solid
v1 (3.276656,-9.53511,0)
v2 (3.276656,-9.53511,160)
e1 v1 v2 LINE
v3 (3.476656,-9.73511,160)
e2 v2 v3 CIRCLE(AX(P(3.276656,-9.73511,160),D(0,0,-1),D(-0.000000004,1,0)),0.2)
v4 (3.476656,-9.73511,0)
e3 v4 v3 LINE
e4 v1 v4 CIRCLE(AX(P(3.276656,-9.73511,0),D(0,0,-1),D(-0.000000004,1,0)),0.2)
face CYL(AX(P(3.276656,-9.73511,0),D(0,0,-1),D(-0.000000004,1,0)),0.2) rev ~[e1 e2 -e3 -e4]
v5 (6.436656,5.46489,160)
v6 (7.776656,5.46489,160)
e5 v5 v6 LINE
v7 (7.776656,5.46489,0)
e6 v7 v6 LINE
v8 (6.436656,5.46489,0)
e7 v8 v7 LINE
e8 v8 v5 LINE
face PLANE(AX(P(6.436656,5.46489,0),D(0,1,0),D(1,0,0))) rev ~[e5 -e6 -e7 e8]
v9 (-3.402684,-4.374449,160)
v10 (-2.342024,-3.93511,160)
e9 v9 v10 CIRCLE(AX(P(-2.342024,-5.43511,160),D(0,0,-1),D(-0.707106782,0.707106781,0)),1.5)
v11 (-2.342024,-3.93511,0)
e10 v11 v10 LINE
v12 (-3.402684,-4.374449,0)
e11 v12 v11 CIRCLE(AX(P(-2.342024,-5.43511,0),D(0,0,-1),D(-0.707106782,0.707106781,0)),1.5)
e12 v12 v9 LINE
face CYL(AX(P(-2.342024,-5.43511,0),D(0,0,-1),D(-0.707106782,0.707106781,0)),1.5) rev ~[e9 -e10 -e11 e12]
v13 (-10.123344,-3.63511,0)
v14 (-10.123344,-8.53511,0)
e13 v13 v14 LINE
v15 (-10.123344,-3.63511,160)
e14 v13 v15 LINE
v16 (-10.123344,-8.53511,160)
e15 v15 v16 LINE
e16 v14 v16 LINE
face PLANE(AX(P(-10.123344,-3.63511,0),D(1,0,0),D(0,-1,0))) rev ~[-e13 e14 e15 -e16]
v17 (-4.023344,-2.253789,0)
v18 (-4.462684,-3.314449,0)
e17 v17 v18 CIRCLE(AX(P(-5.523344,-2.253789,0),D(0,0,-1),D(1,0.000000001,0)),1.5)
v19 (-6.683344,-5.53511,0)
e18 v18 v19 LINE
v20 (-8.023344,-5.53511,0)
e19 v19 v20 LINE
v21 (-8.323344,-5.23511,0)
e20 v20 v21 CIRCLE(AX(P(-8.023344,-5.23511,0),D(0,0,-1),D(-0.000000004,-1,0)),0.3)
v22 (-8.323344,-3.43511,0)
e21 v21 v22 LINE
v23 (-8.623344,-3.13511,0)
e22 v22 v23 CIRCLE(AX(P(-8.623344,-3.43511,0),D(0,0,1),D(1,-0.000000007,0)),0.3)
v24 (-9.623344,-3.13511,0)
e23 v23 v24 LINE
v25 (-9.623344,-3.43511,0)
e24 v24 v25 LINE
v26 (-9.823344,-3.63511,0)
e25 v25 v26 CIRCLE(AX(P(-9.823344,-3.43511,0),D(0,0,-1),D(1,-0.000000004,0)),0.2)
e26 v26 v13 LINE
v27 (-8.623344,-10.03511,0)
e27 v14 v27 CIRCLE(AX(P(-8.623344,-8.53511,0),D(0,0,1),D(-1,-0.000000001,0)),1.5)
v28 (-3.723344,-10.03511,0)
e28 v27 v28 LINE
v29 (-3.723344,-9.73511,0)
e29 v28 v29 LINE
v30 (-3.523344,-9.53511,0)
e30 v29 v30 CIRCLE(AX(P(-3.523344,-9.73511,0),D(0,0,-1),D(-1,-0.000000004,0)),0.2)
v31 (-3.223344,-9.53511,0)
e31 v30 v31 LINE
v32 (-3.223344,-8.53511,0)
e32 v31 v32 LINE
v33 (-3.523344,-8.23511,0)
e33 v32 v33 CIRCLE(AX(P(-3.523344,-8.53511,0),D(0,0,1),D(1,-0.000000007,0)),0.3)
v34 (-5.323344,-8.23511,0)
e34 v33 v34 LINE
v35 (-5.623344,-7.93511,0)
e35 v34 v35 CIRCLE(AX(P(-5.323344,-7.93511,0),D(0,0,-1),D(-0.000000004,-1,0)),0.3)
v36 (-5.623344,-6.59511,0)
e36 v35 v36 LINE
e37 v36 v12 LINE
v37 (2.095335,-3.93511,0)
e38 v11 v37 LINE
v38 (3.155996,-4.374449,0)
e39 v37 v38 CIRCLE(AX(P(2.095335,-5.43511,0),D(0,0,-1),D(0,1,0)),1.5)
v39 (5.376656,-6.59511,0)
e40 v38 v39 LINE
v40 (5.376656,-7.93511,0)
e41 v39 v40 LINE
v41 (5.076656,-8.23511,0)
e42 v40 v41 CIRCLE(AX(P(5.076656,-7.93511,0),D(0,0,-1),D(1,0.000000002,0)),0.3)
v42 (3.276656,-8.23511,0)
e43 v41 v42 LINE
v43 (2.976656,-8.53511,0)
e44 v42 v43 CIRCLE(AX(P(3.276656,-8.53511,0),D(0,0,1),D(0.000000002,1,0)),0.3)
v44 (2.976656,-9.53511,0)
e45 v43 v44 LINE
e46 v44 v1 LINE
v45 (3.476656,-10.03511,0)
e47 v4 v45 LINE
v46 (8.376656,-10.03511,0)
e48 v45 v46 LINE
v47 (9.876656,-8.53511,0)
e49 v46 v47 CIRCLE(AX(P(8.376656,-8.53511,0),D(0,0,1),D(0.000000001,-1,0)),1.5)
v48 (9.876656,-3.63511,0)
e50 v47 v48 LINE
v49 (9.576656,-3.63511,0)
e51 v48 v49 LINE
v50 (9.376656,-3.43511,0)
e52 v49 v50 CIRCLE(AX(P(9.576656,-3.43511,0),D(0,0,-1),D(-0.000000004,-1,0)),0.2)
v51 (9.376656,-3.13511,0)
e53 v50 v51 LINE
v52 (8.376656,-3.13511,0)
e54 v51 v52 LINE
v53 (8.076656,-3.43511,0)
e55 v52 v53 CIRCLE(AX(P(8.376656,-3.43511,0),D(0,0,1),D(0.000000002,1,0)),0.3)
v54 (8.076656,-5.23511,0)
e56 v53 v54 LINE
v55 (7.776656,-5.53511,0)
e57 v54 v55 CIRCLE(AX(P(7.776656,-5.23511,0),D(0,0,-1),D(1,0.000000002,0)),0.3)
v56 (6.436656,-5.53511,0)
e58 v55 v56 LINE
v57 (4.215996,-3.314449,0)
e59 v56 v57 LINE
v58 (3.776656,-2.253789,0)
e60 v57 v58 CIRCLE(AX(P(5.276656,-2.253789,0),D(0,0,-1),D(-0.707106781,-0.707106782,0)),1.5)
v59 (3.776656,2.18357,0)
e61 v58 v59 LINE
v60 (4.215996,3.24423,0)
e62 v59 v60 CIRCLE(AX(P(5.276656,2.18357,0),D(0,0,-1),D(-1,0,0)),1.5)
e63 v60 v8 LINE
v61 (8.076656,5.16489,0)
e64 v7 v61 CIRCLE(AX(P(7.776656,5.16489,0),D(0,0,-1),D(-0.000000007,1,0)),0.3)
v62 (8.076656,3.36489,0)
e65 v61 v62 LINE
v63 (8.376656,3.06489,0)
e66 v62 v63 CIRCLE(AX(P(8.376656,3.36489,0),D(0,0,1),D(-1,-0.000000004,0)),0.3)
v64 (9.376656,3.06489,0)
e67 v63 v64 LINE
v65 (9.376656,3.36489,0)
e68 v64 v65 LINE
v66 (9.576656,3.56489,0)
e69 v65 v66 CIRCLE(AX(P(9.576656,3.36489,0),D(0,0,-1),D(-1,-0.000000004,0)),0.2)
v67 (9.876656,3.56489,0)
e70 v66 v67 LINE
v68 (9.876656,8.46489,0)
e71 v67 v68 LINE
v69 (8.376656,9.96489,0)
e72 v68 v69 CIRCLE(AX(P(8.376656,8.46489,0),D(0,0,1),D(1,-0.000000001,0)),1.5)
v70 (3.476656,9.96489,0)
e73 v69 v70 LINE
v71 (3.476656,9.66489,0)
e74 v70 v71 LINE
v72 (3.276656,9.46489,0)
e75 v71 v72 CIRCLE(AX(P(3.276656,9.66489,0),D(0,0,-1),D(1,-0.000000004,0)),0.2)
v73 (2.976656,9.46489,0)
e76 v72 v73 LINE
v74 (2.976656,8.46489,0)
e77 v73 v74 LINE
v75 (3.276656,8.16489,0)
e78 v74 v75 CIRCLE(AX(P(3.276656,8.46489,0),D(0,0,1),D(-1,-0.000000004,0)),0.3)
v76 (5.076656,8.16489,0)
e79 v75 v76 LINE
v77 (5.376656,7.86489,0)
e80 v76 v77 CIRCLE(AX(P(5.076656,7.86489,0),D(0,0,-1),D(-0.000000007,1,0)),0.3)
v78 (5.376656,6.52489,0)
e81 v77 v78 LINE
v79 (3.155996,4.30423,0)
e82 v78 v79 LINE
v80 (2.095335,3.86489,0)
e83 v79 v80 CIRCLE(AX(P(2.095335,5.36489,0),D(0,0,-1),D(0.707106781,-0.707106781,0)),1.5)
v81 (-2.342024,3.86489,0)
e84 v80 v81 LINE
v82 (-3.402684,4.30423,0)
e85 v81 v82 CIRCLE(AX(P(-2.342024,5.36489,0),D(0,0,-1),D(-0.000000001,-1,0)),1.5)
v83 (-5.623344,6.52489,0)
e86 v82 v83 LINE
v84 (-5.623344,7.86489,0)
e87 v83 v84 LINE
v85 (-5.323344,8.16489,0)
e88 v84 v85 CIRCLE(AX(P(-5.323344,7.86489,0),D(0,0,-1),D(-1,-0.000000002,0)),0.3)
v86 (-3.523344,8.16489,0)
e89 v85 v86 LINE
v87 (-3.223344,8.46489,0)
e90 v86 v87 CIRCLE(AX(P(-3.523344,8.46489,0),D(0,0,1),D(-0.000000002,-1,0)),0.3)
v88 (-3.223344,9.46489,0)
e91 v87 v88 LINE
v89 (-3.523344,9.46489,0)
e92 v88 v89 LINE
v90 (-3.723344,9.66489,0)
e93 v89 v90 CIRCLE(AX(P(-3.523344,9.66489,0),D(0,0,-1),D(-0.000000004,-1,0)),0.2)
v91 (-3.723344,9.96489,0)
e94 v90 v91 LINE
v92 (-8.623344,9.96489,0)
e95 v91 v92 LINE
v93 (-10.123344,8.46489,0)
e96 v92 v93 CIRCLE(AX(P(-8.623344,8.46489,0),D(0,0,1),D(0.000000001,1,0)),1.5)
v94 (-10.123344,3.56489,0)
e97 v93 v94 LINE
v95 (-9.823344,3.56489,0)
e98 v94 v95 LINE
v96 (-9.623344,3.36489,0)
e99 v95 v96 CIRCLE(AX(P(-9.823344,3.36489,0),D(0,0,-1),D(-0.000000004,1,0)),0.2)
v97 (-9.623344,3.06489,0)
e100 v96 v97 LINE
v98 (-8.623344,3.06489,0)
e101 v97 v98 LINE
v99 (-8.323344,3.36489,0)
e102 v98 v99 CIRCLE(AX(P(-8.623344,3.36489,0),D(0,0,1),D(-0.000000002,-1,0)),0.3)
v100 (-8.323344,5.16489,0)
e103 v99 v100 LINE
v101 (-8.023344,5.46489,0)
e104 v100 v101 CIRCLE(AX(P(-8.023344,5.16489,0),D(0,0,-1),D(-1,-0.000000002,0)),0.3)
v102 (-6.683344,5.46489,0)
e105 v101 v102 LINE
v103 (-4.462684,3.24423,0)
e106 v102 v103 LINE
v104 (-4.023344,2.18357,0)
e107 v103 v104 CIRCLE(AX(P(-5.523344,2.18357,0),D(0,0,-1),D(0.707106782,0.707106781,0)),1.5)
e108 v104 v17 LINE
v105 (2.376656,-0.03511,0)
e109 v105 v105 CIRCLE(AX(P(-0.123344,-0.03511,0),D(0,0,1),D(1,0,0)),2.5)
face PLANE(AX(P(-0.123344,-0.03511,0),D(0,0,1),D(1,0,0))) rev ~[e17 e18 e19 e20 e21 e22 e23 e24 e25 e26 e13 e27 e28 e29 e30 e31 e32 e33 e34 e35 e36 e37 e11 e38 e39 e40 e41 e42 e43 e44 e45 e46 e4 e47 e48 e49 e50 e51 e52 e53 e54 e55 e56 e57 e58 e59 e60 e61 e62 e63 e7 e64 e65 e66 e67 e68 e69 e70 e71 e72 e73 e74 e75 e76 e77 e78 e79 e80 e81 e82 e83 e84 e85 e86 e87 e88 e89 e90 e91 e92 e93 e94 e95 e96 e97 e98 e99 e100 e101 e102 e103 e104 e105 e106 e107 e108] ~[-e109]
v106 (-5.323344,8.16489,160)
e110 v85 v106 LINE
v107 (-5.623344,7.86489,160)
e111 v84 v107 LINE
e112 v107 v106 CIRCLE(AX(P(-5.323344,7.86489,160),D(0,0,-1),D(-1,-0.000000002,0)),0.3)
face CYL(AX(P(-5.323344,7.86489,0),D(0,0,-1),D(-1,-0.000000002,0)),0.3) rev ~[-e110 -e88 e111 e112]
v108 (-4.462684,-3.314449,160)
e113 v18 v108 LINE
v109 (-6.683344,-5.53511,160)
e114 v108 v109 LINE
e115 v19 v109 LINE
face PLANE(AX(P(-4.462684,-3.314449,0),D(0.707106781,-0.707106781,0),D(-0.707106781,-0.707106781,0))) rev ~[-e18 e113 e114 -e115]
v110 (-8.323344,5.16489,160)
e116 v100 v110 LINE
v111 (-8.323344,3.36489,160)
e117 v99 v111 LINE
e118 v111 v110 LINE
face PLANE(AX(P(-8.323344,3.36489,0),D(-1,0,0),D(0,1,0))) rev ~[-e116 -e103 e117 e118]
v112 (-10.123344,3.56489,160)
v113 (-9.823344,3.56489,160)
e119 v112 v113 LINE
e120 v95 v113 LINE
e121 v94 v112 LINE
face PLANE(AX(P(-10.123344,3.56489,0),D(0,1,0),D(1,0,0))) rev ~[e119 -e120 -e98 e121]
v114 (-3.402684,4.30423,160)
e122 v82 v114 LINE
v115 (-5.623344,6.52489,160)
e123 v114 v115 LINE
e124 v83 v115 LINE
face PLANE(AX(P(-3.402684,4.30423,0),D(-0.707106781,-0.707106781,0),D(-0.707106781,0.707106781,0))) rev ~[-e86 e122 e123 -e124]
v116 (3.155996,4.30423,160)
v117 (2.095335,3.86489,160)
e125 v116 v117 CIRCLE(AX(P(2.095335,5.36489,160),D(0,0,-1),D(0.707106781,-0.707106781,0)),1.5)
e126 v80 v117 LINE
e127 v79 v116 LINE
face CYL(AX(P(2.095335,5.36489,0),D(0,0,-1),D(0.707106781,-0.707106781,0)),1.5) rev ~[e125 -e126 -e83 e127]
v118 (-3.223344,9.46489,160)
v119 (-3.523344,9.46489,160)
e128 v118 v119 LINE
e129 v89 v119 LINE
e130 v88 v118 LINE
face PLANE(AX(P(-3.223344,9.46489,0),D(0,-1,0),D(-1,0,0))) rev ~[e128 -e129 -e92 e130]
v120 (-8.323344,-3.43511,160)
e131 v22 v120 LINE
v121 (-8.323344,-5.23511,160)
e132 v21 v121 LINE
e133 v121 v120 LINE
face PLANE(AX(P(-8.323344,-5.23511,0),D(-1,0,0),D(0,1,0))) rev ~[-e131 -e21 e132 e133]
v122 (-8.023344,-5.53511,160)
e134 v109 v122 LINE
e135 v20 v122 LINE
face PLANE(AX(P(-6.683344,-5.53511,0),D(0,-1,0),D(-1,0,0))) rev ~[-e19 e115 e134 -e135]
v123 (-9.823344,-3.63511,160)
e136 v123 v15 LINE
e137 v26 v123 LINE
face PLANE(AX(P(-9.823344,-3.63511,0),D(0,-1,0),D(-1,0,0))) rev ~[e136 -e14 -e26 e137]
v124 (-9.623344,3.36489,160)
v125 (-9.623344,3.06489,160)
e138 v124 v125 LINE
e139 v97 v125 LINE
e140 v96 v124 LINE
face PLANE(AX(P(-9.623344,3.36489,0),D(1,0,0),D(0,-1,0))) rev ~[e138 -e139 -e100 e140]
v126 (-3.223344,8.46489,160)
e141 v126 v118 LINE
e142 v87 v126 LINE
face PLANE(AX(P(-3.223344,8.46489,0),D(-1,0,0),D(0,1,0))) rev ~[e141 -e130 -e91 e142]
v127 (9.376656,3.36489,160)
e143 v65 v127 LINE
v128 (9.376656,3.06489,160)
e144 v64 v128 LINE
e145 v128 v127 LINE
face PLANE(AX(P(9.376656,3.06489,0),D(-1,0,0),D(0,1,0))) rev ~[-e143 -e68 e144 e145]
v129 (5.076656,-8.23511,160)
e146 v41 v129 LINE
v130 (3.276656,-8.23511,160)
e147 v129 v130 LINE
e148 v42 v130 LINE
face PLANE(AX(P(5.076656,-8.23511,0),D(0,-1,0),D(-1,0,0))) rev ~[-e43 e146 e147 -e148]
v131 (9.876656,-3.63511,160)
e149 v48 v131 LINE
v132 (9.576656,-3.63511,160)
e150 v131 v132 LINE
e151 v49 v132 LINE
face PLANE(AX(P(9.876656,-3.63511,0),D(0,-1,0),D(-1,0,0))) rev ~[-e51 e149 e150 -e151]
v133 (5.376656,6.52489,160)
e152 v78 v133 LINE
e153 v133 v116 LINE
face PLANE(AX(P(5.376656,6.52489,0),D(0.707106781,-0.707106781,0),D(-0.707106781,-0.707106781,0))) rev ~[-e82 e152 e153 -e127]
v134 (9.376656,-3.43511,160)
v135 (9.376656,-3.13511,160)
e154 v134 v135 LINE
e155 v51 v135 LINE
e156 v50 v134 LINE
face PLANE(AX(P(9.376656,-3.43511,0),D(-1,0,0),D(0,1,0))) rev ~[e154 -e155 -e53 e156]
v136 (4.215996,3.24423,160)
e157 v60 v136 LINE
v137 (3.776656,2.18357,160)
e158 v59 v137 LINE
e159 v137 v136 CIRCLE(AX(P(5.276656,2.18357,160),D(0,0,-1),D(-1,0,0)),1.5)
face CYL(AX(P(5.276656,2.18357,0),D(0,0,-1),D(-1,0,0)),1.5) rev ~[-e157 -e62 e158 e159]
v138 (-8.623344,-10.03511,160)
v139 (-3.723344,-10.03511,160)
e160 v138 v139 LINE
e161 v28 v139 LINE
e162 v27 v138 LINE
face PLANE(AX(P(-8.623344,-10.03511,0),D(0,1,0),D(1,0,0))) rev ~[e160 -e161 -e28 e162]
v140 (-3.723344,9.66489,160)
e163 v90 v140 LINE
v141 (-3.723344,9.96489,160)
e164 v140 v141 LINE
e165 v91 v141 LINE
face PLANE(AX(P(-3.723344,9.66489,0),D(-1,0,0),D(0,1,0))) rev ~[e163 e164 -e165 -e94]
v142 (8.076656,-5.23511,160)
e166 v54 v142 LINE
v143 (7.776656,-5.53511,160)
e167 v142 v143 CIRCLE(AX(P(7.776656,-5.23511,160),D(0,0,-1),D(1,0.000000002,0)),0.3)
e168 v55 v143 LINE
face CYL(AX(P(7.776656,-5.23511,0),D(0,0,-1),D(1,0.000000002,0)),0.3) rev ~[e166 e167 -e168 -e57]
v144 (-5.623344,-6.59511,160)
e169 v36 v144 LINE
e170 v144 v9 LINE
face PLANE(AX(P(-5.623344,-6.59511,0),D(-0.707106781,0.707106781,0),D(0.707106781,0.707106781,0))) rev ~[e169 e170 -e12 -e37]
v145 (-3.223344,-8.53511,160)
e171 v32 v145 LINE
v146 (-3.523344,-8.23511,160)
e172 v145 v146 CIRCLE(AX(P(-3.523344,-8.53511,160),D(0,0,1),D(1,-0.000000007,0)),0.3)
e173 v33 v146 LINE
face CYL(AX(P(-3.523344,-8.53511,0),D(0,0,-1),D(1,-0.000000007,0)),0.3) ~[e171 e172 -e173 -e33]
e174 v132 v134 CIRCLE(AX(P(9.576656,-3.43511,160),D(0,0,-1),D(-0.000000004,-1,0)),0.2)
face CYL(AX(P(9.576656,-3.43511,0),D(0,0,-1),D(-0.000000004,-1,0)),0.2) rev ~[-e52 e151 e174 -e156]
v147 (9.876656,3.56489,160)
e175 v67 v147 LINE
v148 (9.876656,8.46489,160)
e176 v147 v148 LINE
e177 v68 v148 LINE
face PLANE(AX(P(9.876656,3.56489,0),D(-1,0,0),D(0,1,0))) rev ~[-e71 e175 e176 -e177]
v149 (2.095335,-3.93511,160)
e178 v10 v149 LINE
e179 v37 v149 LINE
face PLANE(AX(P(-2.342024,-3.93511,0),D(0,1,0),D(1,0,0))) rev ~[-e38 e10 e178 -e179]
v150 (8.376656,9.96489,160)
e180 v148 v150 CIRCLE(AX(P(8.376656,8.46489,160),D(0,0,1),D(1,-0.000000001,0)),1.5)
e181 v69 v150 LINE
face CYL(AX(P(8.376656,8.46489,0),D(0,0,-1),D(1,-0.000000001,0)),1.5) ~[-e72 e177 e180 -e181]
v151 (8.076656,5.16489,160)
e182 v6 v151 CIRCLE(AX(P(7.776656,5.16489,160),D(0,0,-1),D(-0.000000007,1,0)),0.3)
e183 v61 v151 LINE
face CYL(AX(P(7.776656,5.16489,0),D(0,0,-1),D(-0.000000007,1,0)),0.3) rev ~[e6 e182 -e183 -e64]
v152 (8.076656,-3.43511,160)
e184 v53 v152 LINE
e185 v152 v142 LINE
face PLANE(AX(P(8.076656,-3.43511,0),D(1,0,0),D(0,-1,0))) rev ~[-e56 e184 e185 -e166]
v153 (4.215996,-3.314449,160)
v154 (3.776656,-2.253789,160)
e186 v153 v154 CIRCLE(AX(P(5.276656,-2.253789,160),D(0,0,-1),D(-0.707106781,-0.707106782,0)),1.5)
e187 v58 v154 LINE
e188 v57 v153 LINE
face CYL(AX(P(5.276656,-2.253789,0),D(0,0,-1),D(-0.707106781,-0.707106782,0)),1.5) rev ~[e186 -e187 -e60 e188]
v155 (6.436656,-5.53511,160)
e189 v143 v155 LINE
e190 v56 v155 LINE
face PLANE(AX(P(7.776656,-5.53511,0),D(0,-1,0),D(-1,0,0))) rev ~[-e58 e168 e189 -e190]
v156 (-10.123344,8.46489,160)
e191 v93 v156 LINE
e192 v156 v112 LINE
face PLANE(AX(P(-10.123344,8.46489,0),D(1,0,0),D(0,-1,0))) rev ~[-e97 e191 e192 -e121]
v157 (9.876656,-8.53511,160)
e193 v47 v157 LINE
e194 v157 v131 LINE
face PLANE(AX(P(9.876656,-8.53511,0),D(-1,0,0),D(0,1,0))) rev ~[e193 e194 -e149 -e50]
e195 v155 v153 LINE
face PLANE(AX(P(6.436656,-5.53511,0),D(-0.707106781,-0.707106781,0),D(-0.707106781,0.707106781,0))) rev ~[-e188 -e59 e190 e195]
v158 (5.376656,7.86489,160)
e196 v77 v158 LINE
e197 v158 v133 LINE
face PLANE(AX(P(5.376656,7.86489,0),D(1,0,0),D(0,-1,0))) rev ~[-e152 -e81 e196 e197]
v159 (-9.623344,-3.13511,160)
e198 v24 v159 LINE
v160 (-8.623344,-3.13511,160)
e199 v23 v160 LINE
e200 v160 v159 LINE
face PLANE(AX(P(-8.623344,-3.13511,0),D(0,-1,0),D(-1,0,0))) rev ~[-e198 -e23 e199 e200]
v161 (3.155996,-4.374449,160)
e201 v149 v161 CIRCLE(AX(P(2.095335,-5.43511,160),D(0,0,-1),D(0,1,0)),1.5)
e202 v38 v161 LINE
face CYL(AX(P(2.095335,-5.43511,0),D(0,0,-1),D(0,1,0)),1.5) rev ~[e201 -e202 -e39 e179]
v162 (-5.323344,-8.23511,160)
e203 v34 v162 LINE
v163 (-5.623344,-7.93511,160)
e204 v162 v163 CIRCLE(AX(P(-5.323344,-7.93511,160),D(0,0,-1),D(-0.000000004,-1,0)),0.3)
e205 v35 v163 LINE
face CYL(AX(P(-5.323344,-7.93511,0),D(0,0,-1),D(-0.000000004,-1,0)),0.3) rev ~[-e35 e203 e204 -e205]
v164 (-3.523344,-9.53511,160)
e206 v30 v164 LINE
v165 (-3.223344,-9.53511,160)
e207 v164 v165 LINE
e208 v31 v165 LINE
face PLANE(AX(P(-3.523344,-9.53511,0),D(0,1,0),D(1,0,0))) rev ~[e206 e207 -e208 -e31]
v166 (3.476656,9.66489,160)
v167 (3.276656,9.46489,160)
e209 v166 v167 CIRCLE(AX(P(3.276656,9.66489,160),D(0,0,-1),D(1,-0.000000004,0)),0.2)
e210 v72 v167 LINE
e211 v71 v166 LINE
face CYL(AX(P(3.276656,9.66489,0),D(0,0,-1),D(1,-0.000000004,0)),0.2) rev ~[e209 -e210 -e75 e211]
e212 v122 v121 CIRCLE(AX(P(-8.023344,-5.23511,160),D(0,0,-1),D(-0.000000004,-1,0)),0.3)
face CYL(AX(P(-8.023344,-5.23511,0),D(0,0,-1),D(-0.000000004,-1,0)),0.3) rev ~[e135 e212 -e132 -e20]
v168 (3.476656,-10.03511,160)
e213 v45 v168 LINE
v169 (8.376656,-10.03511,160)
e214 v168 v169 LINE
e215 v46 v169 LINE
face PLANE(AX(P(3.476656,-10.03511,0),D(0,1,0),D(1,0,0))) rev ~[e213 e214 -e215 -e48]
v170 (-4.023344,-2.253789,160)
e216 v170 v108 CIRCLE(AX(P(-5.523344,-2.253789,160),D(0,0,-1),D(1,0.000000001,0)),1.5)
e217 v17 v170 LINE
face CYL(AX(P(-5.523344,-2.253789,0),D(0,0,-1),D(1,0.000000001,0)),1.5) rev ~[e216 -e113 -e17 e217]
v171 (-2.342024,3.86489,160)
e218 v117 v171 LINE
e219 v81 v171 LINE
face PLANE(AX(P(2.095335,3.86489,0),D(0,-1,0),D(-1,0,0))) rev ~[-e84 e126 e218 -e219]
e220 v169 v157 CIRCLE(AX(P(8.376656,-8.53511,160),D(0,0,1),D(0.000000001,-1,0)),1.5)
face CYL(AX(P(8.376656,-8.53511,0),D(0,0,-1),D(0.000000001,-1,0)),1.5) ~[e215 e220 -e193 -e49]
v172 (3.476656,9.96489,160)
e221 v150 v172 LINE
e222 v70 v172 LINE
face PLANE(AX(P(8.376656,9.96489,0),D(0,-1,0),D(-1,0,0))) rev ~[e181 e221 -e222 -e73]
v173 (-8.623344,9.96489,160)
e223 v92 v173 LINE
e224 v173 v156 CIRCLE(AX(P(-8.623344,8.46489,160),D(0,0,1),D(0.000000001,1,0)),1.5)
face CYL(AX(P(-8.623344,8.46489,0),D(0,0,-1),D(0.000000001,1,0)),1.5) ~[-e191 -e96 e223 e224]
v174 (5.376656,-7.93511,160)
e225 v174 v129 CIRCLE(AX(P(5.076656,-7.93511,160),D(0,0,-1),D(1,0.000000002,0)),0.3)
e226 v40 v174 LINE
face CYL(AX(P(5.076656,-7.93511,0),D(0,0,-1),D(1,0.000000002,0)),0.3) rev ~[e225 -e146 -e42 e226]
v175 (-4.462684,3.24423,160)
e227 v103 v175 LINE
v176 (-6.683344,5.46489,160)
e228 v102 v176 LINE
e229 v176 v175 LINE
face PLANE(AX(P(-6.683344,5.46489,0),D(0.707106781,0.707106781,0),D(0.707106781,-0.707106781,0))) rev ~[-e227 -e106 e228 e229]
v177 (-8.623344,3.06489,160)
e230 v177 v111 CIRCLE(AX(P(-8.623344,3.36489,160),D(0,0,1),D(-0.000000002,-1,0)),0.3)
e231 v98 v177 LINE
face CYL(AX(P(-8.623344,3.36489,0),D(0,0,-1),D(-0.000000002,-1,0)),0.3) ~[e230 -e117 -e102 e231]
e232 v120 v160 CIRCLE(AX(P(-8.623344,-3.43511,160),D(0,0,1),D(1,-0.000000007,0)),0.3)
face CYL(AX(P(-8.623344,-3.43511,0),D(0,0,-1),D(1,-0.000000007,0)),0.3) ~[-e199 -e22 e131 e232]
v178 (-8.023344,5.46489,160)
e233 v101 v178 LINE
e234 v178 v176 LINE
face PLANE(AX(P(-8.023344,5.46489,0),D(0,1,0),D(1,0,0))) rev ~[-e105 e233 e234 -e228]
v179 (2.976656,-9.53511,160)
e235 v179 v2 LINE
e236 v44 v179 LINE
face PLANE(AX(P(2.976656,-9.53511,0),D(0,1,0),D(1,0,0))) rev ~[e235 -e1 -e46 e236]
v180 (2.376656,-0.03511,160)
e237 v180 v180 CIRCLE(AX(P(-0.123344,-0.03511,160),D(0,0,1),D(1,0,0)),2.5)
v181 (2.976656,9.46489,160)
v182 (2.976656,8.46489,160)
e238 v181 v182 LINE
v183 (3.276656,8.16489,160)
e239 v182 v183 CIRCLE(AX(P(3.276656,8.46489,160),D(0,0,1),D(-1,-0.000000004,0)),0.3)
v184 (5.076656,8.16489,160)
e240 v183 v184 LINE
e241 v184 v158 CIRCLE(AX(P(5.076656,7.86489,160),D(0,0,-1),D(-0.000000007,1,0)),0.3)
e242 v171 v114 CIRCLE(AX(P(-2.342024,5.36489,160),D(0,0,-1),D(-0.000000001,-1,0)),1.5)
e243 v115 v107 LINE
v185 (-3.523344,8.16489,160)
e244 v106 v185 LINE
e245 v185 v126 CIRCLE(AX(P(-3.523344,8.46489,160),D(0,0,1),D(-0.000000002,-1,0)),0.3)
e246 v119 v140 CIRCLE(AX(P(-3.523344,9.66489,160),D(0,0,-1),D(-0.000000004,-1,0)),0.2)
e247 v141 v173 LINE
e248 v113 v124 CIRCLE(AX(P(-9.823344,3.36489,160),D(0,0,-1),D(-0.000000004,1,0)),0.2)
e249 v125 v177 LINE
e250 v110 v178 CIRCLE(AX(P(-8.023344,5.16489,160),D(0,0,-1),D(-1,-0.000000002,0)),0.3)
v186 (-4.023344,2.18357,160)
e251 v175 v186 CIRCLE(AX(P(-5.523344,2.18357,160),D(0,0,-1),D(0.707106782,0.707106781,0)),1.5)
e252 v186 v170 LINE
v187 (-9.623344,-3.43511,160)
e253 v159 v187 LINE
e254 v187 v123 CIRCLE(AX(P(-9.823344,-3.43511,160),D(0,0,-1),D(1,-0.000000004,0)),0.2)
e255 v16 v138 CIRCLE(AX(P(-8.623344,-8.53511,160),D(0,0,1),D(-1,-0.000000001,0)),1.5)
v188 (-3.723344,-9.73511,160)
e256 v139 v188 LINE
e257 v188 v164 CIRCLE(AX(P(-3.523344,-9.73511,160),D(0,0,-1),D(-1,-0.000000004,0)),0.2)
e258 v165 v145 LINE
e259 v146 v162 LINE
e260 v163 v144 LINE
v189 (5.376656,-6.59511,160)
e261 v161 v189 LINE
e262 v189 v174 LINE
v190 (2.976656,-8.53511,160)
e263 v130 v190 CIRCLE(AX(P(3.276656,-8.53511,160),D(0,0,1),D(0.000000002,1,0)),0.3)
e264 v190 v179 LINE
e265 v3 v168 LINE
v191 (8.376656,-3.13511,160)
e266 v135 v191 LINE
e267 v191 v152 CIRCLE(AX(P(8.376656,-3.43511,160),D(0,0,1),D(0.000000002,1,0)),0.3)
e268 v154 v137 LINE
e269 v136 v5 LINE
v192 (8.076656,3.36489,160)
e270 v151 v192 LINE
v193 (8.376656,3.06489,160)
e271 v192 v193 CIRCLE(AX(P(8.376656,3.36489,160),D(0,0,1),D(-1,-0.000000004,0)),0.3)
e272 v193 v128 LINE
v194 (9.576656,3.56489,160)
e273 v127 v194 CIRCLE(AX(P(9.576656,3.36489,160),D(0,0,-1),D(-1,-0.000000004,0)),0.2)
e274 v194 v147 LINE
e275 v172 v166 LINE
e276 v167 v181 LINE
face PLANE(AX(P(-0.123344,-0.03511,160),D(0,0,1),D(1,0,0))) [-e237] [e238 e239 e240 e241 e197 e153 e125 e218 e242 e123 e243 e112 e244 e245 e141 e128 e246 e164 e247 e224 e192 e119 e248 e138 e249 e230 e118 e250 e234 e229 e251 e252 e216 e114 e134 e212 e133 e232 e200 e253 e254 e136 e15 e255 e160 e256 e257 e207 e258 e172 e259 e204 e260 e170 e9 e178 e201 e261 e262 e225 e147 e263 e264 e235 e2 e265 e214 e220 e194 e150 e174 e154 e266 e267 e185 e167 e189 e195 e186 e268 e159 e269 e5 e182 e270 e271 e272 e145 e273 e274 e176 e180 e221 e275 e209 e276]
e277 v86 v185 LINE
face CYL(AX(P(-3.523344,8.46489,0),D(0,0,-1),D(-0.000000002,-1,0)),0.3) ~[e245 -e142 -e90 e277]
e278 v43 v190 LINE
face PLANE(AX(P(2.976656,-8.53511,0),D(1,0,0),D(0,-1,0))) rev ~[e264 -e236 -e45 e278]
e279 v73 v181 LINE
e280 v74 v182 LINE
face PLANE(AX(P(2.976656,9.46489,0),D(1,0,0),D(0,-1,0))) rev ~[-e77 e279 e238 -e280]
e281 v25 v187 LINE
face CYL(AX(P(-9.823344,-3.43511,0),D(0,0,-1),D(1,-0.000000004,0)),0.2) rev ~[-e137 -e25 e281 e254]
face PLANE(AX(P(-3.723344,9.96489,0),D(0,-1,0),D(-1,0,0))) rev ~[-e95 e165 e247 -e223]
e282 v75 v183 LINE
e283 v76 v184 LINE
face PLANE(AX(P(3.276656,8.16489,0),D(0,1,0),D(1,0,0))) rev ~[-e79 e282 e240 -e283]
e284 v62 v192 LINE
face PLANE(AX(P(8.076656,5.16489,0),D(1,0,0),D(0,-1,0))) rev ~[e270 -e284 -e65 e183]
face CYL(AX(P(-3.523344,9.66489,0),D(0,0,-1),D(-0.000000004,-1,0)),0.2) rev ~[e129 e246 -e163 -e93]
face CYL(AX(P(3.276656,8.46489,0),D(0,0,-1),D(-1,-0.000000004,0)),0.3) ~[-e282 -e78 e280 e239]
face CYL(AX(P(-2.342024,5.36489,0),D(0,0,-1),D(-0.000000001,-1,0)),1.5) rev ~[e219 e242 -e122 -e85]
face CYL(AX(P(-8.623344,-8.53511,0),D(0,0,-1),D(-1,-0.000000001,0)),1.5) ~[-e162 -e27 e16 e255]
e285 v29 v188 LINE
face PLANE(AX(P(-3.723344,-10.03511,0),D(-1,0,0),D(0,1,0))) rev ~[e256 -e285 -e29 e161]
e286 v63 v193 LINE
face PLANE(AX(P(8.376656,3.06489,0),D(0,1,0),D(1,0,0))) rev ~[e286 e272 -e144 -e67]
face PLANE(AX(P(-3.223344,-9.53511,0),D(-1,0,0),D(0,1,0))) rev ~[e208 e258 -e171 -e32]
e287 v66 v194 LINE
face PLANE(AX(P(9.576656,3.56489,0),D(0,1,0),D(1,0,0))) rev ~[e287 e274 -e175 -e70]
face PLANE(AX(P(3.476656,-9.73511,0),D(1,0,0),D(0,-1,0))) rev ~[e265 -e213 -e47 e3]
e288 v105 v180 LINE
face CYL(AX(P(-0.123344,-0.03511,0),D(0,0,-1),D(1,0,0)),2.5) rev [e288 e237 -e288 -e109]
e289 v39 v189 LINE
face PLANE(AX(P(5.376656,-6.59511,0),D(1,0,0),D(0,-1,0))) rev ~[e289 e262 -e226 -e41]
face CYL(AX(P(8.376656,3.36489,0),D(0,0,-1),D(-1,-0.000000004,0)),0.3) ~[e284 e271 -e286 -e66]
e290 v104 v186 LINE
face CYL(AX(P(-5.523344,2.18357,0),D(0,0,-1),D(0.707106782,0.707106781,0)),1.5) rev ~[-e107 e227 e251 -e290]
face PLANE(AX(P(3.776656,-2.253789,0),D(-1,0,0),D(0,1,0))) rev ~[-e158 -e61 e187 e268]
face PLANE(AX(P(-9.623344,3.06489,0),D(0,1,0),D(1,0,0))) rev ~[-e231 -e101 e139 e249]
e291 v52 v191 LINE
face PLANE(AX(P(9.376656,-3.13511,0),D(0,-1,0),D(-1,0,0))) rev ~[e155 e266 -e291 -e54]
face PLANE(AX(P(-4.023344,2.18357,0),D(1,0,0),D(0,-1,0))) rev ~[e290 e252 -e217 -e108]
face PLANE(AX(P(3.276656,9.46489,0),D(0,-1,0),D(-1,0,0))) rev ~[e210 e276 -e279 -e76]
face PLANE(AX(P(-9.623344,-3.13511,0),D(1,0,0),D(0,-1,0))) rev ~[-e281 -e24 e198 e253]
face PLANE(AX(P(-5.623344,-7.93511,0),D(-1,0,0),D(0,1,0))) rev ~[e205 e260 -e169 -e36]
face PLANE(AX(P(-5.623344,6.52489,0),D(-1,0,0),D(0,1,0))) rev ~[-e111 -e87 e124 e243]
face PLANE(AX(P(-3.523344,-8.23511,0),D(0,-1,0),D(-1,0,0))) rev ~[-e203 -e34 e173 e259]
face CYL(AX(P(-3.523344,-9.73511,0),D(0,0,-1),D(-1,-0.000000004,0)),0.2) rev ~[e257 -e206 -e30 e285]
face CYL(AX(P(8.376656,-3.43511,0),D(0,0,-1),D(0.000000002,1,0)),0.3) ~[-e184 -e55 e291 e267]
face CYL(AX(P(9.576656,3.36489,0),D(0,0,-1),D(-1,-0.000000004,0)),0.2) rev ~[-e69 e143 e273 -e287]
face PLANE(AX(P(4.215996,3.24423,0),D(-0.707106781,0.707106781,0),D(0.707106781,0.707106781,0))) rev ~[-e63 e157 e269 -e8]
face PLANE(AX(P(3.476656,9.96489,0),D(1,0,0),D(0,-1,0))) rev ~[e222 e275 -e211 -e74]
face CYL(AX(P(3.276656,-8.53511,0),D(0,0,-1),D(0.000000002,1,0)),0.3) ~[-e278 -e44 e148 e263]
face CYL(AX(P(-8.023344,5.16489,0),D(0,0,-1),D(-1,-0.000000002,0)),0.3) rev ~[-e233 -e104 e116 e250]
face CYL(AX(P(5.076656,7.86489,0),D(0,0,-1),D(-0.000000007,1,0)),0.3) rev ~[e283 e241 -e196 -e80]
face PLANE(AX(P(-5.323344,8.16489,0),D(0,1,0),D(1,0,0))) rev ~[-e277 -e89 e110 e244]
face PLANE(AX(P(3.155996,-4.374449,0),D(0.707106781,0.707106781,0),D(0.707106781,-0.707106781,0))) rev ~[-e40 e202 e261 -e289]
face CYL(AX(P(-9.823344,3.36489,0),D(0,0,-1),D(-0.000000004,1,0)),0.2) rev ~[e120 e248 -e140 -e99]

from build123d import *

# Parameters (mm, degrees)
SKETCH_1_R      = 2.5
EXTRUDE_1_DEPTH = 160


with BuildPart() as part:
    # 草图1 → 凸台-拉伸1 (new body)
    with BuildSketch(Plane.XY):
        with BuildLine():
            Line((4.215995631, 3.244230202), (6.436655803, 5.464890373))
            Line((6.436655803, 5.464890373), (7.776655803, 5.464890373))
            ThreePointArc((7.776655803, 5.464890373), (7.988787838, 5.377022408), (8.076655803, 5.164890373))
            Line((8.076655803, 5.164890373), (8.076655803, 3.364890373))
            ThreePointArc((8.076655803, 3.364890373), (8.164523769, 3.152758339), (8.376655803, 3.064890373))
            Line((8.376655803, 3.064890373), (9.376655803, 3.064890373))
            Line((9.376655803, 3.064890373), (9.376655803, 3.364890373))
            ThreePointArc((9.376655803, 3.364890373), (9.435234447, 3.50631173), (9.576655803, 3.564890373))
            Line((9.576655803, 3.564890373), (9.876655803, 3.564890373))
            Line((9.876655803, 3.564890373), (9.876655803, 8.464890373))
            ThreePointArc((9.876655803, 8.464890373), (9.437315975, 9.525550545), (8.376655803, 9.964890373))
            Line((8.376655803, 9.964890373), (3.476655803, 9.964890373))
            Line((3.476655803, 9.964890373), (3.476655803, 9.664890373))
            ThreePointArc((3.476655803, 9.664890373), (3.418077159, 9.523469017), (3.276655803, 9.464890373))
            Line((3.276655803, 9.464890373), (2.976655803, 9.464890373))
            Line((2.976655803, 9.464890373), (2.976655803, 8.464890373))
            ThreePointArc((2.976655803, 8.464890373), (3.064523769, 8.252758339), (3.276655803, 8.164890373))
            Line((3.276655803, 8.164890373), (5.076655803, 8.164890373))
            ThreePointArc((5.076655803, 8.164890373), (5.288787838, 8.077022408), (5.376655803, 7.864890373))
            Line((5.376655803, 7.864890373), (5.376655803, 6.524890373))
            Line((5.376655803, 6.524890373), (3.155995631, 4.304230202))
            ThreePointArc((3.155995631, 4.304230202), (2.669360608, 3.979071075), (2.09533546, 3.864890373))
            Line((2.09533546, 3.864890373), (-2.342023853, 3.864890373))
            ThreePointArc((-2.342023853, 3.864890373), (-2.916049002, 3.979071075), (-3.402684025, 4.304230202))
            Line((-3.402684025, 4.304230202), (-5.623344197, 6.524890373))
            Line((-5.623344197, 6.524890373), (-5.623344197, 7.864890373))
            ThreePointArc((-5.623344197, 7.864890373), (-5.535476231, 8.077022408), (-5.323344197, 8.164890373))
            Line((-5.323344197, 8.164890373), (-3.523344197, 8.164890373))
            ThreePointArc((-3.523344197, 8.164890373), (-3.311212162, 8.252758339), (-3.223344197, 8.464890373))
            Line((-3.223344197, 8.464890373), (-3.223344197, 9.464890373))
            Line((-3.223344197, 9.464890373), (-3.523344197, 9.464890373))
            ThreePointArc((-3.523344197, 9.464890373), (-3.664765553, 9.523469017), (-3.723344197, 9.664890373))
            Line((-3.723344197, 9.664890373), (-3.723344197, 9.964890373))
            Line((-3.723344197, 9.964890373), (-8.623344197, 9.964890373))
            ThreePointArc((-8.623344197, 9.964890373), (-9.684004369, 9.525550545), (-10.123344197, 8.464890373))
            Line((-10.123344197, 8.464890373), (-10.123344197, 3.564890373))
            Line((-10.123344197, 3.564890373), (-9.823344197, 3.564890373))
            ThreePointArc((-9.823344197, 3.564890373), (-9.681922841, 3.50631173), (-9.623344197, 3.364890373))
            Line((-9.623344197, 3.364890373), (-9.623344197, 3.064890373))
            Line((-9.623344197, 3.064890373), (-8.623344197, 3.064890373))
            ThreePointArc((-8.623344197, 3.064890373), (-8.411212162, 3.152758339), (-8.323344197, 3.364890373))
            Line((-8.323344197, 3.364890373), (-8.323344197, 5.164890373))
            ThreePointArc((-8.323344197, 5.164890373), (-8.235476231, 5.377022408), (-8.023344197, 5.464890373))
            Line((-8.023344197, 5.464890373), (-6.683344197, 5.464890373))
            Line((-6.683344197, 5.464890373), (-4.462684025, 3.244230202))
            ThreePointArc((-4.462684025, 3.244230202), (-4.137524898, 2.757595178), (-4.023344197, 2.18357003))
            Line((-4.023344197, 2.18357003), (-4.023344197, -2.253789283))
            ThreePointArc((-4.023344197, -2.253789283), (-4.137524898, -2.827814432), (-4.462684025, -3.314449455))
            Line((-4.462684025, -3.314449455), (-6.683344197, -5.535109627))
            Line((-6.683344197, -5.535109627), (-8.023344197, -5.535109627))
            ThreePointArc((-8.023344197, -5.535109627), (-8.235476231, -5.447241661), (-8.323344197, -5.235109627))
            Line((-8.323344197, -5.235109627), (-8.323344197, -3.435109627))
            ThreePointArc((-8.323344197, -3.435109627), (-8.411212162, -3.222977592), (-8.623344197, -3.135109627))
            Line((-8.623344197, -3.135109627), (-9.623344197, -3.135109627))
            Line((-9.623344197, -3.135109627), (-9.623344197, -3.435109627))
            ThreePointArc((-9.623344197, -3.435109627), (-9.681922841, -3.576530983), (-9.823344197, -3.635109627))
            Line((-9.823344197, -3.635109627), (-10.123344197, -3.635109627))
            Line((-10.123344197, -3.635109627), (-10.123344197, -8.535109627))
            ThreePointArc((-10.123344197, -8.535109627), (-9.684004369, -9.595769798), (-8.623344197, -10.035109627))
            Line((-8.623344197, -10.035109627), (-3.723344197, -10.035109627))
            Line((-3.723344197, -10.035109627), (-3.723344197, -9.735109627))
            ThreePointArc((-3.723344197, -9.735109627), (-3.664765553, -9.59368827), (-3.523344197, -9.535109627))
            Line((-3.523344197, -9.535109627), (-3.223344197, -9.535109627))
            Line((-3.223344197, -9.535109627), (-3.223344197, -8.535109627))
            ThreePointArc((-3.223344197, -8.535109627), (-3.311212162, -8.322977592), (-3.523344197, -8.235109627))
            Line((-3.523344197, -8.235109627), (-5.323344197, -8.235109627))
            ThreePointArc((-5.323344197, -8.235109627), (-5.535476231, -8.147241661), (-5.623344197, -7.935109627))
            Line((-5.623344197, -7.935109627), (-5.623344197, -6.595109627))
            Line((-5.623344197, -6.595109627), (-3.402684025, -4.374449455))
            ThreePointArc((-3.402684025, -4.374449455), (-2.916049002, -4.049290328), (-2.342023853, -3.935109627))
            Line((-2.342023853, -3.935109627), (2.09533546, -3.935109627))
            ThreePointArc((2.09533546, -3.935109627), (2.669360608, -4.049290328), (3.155995631, -4.374449455))
            Line((3.155995631, -4.374449455), (5.376655803, -6.595109627))
            Line((5.376655803, -6.595109627), (5.376655803, -7.935109627))
            ThreePointArc((5.376655803, -7.935109627), (5.288787838, -8.147241661), (5.076655803, -8.235109627))
            Line((5.076655803, -8.235109627), (3.276655803, -8.235109627))
            ThreePointArc((3.276655803, -8.235109627), (3.064523769, -8.322977592), (2.976655803, -8.535109627))
            Line((2.976655803, -8.535109627), (2.976655803, -9.535109627))
            Line((2.976655803, -9.535109627), (3.276655803, -9.535109627))
            ThreePointArc((3.276655803, -9.535109627), (3.418077159, -9.59368827), (3.476655803, -9.735109627))
            Line((3.476655803, -9.735109627), (3.476655803, -10.035109627))
            Line((3.476655803, -10.035109627), (8.376655803, -10.035109627))
            ThreePointArc((8.376655803, -10.035109627), (9.437315975, -9.595769798), (9.876655803, -8.535109627))
            Line((9.876655803, -8.535109627), (9.876655803, -3.635109627))
            Line((9.876655803, -3.635109627), (9.576655803, -3.635109627))
            ThreePointArc((9.576655803, -3.635109627), (9.435234447, -3.576530983), (9.376655803, -3.435109627))
            Line((9.376655803, -3.435109627), (9.376655803, -3.135109627))
            Line((9.376655803, -3.135109627), (8.376655803, -3.135109627))
            ThreePointArc((8.376655803, -3.135109627), (8.164523769, -3.222977592), (8.076655803, -3.435109627))
            Line((8.076655803, -3.435109627), (8.076655803, -5.235109627))
            ThreePointArc((8.076655803, -5.235109627), (7.988787838, -5.447241661), (7.776655803, -5.535109627))
            Line((7.776655803, -5.535109627), (6.436655803, -5.535109627))
            Line((6.436655803, -5.535109627), (4.215995631, -3.314449455))
            ThreePointArc((4.215995631, -3.314449455), (3.890836504, -2.827814432), (3.776655803, -2.253789283))
            Line((3.776655803, -2.253789283), (3.776655803, 2.18357003))
            ThreePointArc((3.776655803, 2.18357003), (3.890836504, 2.757595178), (4.215995631, 3.244230202))
        make_face()
        with Locations((-0.123344197, -0.035109627)):
            Circle(SKETCH_1_R, mode=Mode.SUBTRACT)
    extrude(amount=EXTRUDE_1_DEPTH)


solid = part.part
